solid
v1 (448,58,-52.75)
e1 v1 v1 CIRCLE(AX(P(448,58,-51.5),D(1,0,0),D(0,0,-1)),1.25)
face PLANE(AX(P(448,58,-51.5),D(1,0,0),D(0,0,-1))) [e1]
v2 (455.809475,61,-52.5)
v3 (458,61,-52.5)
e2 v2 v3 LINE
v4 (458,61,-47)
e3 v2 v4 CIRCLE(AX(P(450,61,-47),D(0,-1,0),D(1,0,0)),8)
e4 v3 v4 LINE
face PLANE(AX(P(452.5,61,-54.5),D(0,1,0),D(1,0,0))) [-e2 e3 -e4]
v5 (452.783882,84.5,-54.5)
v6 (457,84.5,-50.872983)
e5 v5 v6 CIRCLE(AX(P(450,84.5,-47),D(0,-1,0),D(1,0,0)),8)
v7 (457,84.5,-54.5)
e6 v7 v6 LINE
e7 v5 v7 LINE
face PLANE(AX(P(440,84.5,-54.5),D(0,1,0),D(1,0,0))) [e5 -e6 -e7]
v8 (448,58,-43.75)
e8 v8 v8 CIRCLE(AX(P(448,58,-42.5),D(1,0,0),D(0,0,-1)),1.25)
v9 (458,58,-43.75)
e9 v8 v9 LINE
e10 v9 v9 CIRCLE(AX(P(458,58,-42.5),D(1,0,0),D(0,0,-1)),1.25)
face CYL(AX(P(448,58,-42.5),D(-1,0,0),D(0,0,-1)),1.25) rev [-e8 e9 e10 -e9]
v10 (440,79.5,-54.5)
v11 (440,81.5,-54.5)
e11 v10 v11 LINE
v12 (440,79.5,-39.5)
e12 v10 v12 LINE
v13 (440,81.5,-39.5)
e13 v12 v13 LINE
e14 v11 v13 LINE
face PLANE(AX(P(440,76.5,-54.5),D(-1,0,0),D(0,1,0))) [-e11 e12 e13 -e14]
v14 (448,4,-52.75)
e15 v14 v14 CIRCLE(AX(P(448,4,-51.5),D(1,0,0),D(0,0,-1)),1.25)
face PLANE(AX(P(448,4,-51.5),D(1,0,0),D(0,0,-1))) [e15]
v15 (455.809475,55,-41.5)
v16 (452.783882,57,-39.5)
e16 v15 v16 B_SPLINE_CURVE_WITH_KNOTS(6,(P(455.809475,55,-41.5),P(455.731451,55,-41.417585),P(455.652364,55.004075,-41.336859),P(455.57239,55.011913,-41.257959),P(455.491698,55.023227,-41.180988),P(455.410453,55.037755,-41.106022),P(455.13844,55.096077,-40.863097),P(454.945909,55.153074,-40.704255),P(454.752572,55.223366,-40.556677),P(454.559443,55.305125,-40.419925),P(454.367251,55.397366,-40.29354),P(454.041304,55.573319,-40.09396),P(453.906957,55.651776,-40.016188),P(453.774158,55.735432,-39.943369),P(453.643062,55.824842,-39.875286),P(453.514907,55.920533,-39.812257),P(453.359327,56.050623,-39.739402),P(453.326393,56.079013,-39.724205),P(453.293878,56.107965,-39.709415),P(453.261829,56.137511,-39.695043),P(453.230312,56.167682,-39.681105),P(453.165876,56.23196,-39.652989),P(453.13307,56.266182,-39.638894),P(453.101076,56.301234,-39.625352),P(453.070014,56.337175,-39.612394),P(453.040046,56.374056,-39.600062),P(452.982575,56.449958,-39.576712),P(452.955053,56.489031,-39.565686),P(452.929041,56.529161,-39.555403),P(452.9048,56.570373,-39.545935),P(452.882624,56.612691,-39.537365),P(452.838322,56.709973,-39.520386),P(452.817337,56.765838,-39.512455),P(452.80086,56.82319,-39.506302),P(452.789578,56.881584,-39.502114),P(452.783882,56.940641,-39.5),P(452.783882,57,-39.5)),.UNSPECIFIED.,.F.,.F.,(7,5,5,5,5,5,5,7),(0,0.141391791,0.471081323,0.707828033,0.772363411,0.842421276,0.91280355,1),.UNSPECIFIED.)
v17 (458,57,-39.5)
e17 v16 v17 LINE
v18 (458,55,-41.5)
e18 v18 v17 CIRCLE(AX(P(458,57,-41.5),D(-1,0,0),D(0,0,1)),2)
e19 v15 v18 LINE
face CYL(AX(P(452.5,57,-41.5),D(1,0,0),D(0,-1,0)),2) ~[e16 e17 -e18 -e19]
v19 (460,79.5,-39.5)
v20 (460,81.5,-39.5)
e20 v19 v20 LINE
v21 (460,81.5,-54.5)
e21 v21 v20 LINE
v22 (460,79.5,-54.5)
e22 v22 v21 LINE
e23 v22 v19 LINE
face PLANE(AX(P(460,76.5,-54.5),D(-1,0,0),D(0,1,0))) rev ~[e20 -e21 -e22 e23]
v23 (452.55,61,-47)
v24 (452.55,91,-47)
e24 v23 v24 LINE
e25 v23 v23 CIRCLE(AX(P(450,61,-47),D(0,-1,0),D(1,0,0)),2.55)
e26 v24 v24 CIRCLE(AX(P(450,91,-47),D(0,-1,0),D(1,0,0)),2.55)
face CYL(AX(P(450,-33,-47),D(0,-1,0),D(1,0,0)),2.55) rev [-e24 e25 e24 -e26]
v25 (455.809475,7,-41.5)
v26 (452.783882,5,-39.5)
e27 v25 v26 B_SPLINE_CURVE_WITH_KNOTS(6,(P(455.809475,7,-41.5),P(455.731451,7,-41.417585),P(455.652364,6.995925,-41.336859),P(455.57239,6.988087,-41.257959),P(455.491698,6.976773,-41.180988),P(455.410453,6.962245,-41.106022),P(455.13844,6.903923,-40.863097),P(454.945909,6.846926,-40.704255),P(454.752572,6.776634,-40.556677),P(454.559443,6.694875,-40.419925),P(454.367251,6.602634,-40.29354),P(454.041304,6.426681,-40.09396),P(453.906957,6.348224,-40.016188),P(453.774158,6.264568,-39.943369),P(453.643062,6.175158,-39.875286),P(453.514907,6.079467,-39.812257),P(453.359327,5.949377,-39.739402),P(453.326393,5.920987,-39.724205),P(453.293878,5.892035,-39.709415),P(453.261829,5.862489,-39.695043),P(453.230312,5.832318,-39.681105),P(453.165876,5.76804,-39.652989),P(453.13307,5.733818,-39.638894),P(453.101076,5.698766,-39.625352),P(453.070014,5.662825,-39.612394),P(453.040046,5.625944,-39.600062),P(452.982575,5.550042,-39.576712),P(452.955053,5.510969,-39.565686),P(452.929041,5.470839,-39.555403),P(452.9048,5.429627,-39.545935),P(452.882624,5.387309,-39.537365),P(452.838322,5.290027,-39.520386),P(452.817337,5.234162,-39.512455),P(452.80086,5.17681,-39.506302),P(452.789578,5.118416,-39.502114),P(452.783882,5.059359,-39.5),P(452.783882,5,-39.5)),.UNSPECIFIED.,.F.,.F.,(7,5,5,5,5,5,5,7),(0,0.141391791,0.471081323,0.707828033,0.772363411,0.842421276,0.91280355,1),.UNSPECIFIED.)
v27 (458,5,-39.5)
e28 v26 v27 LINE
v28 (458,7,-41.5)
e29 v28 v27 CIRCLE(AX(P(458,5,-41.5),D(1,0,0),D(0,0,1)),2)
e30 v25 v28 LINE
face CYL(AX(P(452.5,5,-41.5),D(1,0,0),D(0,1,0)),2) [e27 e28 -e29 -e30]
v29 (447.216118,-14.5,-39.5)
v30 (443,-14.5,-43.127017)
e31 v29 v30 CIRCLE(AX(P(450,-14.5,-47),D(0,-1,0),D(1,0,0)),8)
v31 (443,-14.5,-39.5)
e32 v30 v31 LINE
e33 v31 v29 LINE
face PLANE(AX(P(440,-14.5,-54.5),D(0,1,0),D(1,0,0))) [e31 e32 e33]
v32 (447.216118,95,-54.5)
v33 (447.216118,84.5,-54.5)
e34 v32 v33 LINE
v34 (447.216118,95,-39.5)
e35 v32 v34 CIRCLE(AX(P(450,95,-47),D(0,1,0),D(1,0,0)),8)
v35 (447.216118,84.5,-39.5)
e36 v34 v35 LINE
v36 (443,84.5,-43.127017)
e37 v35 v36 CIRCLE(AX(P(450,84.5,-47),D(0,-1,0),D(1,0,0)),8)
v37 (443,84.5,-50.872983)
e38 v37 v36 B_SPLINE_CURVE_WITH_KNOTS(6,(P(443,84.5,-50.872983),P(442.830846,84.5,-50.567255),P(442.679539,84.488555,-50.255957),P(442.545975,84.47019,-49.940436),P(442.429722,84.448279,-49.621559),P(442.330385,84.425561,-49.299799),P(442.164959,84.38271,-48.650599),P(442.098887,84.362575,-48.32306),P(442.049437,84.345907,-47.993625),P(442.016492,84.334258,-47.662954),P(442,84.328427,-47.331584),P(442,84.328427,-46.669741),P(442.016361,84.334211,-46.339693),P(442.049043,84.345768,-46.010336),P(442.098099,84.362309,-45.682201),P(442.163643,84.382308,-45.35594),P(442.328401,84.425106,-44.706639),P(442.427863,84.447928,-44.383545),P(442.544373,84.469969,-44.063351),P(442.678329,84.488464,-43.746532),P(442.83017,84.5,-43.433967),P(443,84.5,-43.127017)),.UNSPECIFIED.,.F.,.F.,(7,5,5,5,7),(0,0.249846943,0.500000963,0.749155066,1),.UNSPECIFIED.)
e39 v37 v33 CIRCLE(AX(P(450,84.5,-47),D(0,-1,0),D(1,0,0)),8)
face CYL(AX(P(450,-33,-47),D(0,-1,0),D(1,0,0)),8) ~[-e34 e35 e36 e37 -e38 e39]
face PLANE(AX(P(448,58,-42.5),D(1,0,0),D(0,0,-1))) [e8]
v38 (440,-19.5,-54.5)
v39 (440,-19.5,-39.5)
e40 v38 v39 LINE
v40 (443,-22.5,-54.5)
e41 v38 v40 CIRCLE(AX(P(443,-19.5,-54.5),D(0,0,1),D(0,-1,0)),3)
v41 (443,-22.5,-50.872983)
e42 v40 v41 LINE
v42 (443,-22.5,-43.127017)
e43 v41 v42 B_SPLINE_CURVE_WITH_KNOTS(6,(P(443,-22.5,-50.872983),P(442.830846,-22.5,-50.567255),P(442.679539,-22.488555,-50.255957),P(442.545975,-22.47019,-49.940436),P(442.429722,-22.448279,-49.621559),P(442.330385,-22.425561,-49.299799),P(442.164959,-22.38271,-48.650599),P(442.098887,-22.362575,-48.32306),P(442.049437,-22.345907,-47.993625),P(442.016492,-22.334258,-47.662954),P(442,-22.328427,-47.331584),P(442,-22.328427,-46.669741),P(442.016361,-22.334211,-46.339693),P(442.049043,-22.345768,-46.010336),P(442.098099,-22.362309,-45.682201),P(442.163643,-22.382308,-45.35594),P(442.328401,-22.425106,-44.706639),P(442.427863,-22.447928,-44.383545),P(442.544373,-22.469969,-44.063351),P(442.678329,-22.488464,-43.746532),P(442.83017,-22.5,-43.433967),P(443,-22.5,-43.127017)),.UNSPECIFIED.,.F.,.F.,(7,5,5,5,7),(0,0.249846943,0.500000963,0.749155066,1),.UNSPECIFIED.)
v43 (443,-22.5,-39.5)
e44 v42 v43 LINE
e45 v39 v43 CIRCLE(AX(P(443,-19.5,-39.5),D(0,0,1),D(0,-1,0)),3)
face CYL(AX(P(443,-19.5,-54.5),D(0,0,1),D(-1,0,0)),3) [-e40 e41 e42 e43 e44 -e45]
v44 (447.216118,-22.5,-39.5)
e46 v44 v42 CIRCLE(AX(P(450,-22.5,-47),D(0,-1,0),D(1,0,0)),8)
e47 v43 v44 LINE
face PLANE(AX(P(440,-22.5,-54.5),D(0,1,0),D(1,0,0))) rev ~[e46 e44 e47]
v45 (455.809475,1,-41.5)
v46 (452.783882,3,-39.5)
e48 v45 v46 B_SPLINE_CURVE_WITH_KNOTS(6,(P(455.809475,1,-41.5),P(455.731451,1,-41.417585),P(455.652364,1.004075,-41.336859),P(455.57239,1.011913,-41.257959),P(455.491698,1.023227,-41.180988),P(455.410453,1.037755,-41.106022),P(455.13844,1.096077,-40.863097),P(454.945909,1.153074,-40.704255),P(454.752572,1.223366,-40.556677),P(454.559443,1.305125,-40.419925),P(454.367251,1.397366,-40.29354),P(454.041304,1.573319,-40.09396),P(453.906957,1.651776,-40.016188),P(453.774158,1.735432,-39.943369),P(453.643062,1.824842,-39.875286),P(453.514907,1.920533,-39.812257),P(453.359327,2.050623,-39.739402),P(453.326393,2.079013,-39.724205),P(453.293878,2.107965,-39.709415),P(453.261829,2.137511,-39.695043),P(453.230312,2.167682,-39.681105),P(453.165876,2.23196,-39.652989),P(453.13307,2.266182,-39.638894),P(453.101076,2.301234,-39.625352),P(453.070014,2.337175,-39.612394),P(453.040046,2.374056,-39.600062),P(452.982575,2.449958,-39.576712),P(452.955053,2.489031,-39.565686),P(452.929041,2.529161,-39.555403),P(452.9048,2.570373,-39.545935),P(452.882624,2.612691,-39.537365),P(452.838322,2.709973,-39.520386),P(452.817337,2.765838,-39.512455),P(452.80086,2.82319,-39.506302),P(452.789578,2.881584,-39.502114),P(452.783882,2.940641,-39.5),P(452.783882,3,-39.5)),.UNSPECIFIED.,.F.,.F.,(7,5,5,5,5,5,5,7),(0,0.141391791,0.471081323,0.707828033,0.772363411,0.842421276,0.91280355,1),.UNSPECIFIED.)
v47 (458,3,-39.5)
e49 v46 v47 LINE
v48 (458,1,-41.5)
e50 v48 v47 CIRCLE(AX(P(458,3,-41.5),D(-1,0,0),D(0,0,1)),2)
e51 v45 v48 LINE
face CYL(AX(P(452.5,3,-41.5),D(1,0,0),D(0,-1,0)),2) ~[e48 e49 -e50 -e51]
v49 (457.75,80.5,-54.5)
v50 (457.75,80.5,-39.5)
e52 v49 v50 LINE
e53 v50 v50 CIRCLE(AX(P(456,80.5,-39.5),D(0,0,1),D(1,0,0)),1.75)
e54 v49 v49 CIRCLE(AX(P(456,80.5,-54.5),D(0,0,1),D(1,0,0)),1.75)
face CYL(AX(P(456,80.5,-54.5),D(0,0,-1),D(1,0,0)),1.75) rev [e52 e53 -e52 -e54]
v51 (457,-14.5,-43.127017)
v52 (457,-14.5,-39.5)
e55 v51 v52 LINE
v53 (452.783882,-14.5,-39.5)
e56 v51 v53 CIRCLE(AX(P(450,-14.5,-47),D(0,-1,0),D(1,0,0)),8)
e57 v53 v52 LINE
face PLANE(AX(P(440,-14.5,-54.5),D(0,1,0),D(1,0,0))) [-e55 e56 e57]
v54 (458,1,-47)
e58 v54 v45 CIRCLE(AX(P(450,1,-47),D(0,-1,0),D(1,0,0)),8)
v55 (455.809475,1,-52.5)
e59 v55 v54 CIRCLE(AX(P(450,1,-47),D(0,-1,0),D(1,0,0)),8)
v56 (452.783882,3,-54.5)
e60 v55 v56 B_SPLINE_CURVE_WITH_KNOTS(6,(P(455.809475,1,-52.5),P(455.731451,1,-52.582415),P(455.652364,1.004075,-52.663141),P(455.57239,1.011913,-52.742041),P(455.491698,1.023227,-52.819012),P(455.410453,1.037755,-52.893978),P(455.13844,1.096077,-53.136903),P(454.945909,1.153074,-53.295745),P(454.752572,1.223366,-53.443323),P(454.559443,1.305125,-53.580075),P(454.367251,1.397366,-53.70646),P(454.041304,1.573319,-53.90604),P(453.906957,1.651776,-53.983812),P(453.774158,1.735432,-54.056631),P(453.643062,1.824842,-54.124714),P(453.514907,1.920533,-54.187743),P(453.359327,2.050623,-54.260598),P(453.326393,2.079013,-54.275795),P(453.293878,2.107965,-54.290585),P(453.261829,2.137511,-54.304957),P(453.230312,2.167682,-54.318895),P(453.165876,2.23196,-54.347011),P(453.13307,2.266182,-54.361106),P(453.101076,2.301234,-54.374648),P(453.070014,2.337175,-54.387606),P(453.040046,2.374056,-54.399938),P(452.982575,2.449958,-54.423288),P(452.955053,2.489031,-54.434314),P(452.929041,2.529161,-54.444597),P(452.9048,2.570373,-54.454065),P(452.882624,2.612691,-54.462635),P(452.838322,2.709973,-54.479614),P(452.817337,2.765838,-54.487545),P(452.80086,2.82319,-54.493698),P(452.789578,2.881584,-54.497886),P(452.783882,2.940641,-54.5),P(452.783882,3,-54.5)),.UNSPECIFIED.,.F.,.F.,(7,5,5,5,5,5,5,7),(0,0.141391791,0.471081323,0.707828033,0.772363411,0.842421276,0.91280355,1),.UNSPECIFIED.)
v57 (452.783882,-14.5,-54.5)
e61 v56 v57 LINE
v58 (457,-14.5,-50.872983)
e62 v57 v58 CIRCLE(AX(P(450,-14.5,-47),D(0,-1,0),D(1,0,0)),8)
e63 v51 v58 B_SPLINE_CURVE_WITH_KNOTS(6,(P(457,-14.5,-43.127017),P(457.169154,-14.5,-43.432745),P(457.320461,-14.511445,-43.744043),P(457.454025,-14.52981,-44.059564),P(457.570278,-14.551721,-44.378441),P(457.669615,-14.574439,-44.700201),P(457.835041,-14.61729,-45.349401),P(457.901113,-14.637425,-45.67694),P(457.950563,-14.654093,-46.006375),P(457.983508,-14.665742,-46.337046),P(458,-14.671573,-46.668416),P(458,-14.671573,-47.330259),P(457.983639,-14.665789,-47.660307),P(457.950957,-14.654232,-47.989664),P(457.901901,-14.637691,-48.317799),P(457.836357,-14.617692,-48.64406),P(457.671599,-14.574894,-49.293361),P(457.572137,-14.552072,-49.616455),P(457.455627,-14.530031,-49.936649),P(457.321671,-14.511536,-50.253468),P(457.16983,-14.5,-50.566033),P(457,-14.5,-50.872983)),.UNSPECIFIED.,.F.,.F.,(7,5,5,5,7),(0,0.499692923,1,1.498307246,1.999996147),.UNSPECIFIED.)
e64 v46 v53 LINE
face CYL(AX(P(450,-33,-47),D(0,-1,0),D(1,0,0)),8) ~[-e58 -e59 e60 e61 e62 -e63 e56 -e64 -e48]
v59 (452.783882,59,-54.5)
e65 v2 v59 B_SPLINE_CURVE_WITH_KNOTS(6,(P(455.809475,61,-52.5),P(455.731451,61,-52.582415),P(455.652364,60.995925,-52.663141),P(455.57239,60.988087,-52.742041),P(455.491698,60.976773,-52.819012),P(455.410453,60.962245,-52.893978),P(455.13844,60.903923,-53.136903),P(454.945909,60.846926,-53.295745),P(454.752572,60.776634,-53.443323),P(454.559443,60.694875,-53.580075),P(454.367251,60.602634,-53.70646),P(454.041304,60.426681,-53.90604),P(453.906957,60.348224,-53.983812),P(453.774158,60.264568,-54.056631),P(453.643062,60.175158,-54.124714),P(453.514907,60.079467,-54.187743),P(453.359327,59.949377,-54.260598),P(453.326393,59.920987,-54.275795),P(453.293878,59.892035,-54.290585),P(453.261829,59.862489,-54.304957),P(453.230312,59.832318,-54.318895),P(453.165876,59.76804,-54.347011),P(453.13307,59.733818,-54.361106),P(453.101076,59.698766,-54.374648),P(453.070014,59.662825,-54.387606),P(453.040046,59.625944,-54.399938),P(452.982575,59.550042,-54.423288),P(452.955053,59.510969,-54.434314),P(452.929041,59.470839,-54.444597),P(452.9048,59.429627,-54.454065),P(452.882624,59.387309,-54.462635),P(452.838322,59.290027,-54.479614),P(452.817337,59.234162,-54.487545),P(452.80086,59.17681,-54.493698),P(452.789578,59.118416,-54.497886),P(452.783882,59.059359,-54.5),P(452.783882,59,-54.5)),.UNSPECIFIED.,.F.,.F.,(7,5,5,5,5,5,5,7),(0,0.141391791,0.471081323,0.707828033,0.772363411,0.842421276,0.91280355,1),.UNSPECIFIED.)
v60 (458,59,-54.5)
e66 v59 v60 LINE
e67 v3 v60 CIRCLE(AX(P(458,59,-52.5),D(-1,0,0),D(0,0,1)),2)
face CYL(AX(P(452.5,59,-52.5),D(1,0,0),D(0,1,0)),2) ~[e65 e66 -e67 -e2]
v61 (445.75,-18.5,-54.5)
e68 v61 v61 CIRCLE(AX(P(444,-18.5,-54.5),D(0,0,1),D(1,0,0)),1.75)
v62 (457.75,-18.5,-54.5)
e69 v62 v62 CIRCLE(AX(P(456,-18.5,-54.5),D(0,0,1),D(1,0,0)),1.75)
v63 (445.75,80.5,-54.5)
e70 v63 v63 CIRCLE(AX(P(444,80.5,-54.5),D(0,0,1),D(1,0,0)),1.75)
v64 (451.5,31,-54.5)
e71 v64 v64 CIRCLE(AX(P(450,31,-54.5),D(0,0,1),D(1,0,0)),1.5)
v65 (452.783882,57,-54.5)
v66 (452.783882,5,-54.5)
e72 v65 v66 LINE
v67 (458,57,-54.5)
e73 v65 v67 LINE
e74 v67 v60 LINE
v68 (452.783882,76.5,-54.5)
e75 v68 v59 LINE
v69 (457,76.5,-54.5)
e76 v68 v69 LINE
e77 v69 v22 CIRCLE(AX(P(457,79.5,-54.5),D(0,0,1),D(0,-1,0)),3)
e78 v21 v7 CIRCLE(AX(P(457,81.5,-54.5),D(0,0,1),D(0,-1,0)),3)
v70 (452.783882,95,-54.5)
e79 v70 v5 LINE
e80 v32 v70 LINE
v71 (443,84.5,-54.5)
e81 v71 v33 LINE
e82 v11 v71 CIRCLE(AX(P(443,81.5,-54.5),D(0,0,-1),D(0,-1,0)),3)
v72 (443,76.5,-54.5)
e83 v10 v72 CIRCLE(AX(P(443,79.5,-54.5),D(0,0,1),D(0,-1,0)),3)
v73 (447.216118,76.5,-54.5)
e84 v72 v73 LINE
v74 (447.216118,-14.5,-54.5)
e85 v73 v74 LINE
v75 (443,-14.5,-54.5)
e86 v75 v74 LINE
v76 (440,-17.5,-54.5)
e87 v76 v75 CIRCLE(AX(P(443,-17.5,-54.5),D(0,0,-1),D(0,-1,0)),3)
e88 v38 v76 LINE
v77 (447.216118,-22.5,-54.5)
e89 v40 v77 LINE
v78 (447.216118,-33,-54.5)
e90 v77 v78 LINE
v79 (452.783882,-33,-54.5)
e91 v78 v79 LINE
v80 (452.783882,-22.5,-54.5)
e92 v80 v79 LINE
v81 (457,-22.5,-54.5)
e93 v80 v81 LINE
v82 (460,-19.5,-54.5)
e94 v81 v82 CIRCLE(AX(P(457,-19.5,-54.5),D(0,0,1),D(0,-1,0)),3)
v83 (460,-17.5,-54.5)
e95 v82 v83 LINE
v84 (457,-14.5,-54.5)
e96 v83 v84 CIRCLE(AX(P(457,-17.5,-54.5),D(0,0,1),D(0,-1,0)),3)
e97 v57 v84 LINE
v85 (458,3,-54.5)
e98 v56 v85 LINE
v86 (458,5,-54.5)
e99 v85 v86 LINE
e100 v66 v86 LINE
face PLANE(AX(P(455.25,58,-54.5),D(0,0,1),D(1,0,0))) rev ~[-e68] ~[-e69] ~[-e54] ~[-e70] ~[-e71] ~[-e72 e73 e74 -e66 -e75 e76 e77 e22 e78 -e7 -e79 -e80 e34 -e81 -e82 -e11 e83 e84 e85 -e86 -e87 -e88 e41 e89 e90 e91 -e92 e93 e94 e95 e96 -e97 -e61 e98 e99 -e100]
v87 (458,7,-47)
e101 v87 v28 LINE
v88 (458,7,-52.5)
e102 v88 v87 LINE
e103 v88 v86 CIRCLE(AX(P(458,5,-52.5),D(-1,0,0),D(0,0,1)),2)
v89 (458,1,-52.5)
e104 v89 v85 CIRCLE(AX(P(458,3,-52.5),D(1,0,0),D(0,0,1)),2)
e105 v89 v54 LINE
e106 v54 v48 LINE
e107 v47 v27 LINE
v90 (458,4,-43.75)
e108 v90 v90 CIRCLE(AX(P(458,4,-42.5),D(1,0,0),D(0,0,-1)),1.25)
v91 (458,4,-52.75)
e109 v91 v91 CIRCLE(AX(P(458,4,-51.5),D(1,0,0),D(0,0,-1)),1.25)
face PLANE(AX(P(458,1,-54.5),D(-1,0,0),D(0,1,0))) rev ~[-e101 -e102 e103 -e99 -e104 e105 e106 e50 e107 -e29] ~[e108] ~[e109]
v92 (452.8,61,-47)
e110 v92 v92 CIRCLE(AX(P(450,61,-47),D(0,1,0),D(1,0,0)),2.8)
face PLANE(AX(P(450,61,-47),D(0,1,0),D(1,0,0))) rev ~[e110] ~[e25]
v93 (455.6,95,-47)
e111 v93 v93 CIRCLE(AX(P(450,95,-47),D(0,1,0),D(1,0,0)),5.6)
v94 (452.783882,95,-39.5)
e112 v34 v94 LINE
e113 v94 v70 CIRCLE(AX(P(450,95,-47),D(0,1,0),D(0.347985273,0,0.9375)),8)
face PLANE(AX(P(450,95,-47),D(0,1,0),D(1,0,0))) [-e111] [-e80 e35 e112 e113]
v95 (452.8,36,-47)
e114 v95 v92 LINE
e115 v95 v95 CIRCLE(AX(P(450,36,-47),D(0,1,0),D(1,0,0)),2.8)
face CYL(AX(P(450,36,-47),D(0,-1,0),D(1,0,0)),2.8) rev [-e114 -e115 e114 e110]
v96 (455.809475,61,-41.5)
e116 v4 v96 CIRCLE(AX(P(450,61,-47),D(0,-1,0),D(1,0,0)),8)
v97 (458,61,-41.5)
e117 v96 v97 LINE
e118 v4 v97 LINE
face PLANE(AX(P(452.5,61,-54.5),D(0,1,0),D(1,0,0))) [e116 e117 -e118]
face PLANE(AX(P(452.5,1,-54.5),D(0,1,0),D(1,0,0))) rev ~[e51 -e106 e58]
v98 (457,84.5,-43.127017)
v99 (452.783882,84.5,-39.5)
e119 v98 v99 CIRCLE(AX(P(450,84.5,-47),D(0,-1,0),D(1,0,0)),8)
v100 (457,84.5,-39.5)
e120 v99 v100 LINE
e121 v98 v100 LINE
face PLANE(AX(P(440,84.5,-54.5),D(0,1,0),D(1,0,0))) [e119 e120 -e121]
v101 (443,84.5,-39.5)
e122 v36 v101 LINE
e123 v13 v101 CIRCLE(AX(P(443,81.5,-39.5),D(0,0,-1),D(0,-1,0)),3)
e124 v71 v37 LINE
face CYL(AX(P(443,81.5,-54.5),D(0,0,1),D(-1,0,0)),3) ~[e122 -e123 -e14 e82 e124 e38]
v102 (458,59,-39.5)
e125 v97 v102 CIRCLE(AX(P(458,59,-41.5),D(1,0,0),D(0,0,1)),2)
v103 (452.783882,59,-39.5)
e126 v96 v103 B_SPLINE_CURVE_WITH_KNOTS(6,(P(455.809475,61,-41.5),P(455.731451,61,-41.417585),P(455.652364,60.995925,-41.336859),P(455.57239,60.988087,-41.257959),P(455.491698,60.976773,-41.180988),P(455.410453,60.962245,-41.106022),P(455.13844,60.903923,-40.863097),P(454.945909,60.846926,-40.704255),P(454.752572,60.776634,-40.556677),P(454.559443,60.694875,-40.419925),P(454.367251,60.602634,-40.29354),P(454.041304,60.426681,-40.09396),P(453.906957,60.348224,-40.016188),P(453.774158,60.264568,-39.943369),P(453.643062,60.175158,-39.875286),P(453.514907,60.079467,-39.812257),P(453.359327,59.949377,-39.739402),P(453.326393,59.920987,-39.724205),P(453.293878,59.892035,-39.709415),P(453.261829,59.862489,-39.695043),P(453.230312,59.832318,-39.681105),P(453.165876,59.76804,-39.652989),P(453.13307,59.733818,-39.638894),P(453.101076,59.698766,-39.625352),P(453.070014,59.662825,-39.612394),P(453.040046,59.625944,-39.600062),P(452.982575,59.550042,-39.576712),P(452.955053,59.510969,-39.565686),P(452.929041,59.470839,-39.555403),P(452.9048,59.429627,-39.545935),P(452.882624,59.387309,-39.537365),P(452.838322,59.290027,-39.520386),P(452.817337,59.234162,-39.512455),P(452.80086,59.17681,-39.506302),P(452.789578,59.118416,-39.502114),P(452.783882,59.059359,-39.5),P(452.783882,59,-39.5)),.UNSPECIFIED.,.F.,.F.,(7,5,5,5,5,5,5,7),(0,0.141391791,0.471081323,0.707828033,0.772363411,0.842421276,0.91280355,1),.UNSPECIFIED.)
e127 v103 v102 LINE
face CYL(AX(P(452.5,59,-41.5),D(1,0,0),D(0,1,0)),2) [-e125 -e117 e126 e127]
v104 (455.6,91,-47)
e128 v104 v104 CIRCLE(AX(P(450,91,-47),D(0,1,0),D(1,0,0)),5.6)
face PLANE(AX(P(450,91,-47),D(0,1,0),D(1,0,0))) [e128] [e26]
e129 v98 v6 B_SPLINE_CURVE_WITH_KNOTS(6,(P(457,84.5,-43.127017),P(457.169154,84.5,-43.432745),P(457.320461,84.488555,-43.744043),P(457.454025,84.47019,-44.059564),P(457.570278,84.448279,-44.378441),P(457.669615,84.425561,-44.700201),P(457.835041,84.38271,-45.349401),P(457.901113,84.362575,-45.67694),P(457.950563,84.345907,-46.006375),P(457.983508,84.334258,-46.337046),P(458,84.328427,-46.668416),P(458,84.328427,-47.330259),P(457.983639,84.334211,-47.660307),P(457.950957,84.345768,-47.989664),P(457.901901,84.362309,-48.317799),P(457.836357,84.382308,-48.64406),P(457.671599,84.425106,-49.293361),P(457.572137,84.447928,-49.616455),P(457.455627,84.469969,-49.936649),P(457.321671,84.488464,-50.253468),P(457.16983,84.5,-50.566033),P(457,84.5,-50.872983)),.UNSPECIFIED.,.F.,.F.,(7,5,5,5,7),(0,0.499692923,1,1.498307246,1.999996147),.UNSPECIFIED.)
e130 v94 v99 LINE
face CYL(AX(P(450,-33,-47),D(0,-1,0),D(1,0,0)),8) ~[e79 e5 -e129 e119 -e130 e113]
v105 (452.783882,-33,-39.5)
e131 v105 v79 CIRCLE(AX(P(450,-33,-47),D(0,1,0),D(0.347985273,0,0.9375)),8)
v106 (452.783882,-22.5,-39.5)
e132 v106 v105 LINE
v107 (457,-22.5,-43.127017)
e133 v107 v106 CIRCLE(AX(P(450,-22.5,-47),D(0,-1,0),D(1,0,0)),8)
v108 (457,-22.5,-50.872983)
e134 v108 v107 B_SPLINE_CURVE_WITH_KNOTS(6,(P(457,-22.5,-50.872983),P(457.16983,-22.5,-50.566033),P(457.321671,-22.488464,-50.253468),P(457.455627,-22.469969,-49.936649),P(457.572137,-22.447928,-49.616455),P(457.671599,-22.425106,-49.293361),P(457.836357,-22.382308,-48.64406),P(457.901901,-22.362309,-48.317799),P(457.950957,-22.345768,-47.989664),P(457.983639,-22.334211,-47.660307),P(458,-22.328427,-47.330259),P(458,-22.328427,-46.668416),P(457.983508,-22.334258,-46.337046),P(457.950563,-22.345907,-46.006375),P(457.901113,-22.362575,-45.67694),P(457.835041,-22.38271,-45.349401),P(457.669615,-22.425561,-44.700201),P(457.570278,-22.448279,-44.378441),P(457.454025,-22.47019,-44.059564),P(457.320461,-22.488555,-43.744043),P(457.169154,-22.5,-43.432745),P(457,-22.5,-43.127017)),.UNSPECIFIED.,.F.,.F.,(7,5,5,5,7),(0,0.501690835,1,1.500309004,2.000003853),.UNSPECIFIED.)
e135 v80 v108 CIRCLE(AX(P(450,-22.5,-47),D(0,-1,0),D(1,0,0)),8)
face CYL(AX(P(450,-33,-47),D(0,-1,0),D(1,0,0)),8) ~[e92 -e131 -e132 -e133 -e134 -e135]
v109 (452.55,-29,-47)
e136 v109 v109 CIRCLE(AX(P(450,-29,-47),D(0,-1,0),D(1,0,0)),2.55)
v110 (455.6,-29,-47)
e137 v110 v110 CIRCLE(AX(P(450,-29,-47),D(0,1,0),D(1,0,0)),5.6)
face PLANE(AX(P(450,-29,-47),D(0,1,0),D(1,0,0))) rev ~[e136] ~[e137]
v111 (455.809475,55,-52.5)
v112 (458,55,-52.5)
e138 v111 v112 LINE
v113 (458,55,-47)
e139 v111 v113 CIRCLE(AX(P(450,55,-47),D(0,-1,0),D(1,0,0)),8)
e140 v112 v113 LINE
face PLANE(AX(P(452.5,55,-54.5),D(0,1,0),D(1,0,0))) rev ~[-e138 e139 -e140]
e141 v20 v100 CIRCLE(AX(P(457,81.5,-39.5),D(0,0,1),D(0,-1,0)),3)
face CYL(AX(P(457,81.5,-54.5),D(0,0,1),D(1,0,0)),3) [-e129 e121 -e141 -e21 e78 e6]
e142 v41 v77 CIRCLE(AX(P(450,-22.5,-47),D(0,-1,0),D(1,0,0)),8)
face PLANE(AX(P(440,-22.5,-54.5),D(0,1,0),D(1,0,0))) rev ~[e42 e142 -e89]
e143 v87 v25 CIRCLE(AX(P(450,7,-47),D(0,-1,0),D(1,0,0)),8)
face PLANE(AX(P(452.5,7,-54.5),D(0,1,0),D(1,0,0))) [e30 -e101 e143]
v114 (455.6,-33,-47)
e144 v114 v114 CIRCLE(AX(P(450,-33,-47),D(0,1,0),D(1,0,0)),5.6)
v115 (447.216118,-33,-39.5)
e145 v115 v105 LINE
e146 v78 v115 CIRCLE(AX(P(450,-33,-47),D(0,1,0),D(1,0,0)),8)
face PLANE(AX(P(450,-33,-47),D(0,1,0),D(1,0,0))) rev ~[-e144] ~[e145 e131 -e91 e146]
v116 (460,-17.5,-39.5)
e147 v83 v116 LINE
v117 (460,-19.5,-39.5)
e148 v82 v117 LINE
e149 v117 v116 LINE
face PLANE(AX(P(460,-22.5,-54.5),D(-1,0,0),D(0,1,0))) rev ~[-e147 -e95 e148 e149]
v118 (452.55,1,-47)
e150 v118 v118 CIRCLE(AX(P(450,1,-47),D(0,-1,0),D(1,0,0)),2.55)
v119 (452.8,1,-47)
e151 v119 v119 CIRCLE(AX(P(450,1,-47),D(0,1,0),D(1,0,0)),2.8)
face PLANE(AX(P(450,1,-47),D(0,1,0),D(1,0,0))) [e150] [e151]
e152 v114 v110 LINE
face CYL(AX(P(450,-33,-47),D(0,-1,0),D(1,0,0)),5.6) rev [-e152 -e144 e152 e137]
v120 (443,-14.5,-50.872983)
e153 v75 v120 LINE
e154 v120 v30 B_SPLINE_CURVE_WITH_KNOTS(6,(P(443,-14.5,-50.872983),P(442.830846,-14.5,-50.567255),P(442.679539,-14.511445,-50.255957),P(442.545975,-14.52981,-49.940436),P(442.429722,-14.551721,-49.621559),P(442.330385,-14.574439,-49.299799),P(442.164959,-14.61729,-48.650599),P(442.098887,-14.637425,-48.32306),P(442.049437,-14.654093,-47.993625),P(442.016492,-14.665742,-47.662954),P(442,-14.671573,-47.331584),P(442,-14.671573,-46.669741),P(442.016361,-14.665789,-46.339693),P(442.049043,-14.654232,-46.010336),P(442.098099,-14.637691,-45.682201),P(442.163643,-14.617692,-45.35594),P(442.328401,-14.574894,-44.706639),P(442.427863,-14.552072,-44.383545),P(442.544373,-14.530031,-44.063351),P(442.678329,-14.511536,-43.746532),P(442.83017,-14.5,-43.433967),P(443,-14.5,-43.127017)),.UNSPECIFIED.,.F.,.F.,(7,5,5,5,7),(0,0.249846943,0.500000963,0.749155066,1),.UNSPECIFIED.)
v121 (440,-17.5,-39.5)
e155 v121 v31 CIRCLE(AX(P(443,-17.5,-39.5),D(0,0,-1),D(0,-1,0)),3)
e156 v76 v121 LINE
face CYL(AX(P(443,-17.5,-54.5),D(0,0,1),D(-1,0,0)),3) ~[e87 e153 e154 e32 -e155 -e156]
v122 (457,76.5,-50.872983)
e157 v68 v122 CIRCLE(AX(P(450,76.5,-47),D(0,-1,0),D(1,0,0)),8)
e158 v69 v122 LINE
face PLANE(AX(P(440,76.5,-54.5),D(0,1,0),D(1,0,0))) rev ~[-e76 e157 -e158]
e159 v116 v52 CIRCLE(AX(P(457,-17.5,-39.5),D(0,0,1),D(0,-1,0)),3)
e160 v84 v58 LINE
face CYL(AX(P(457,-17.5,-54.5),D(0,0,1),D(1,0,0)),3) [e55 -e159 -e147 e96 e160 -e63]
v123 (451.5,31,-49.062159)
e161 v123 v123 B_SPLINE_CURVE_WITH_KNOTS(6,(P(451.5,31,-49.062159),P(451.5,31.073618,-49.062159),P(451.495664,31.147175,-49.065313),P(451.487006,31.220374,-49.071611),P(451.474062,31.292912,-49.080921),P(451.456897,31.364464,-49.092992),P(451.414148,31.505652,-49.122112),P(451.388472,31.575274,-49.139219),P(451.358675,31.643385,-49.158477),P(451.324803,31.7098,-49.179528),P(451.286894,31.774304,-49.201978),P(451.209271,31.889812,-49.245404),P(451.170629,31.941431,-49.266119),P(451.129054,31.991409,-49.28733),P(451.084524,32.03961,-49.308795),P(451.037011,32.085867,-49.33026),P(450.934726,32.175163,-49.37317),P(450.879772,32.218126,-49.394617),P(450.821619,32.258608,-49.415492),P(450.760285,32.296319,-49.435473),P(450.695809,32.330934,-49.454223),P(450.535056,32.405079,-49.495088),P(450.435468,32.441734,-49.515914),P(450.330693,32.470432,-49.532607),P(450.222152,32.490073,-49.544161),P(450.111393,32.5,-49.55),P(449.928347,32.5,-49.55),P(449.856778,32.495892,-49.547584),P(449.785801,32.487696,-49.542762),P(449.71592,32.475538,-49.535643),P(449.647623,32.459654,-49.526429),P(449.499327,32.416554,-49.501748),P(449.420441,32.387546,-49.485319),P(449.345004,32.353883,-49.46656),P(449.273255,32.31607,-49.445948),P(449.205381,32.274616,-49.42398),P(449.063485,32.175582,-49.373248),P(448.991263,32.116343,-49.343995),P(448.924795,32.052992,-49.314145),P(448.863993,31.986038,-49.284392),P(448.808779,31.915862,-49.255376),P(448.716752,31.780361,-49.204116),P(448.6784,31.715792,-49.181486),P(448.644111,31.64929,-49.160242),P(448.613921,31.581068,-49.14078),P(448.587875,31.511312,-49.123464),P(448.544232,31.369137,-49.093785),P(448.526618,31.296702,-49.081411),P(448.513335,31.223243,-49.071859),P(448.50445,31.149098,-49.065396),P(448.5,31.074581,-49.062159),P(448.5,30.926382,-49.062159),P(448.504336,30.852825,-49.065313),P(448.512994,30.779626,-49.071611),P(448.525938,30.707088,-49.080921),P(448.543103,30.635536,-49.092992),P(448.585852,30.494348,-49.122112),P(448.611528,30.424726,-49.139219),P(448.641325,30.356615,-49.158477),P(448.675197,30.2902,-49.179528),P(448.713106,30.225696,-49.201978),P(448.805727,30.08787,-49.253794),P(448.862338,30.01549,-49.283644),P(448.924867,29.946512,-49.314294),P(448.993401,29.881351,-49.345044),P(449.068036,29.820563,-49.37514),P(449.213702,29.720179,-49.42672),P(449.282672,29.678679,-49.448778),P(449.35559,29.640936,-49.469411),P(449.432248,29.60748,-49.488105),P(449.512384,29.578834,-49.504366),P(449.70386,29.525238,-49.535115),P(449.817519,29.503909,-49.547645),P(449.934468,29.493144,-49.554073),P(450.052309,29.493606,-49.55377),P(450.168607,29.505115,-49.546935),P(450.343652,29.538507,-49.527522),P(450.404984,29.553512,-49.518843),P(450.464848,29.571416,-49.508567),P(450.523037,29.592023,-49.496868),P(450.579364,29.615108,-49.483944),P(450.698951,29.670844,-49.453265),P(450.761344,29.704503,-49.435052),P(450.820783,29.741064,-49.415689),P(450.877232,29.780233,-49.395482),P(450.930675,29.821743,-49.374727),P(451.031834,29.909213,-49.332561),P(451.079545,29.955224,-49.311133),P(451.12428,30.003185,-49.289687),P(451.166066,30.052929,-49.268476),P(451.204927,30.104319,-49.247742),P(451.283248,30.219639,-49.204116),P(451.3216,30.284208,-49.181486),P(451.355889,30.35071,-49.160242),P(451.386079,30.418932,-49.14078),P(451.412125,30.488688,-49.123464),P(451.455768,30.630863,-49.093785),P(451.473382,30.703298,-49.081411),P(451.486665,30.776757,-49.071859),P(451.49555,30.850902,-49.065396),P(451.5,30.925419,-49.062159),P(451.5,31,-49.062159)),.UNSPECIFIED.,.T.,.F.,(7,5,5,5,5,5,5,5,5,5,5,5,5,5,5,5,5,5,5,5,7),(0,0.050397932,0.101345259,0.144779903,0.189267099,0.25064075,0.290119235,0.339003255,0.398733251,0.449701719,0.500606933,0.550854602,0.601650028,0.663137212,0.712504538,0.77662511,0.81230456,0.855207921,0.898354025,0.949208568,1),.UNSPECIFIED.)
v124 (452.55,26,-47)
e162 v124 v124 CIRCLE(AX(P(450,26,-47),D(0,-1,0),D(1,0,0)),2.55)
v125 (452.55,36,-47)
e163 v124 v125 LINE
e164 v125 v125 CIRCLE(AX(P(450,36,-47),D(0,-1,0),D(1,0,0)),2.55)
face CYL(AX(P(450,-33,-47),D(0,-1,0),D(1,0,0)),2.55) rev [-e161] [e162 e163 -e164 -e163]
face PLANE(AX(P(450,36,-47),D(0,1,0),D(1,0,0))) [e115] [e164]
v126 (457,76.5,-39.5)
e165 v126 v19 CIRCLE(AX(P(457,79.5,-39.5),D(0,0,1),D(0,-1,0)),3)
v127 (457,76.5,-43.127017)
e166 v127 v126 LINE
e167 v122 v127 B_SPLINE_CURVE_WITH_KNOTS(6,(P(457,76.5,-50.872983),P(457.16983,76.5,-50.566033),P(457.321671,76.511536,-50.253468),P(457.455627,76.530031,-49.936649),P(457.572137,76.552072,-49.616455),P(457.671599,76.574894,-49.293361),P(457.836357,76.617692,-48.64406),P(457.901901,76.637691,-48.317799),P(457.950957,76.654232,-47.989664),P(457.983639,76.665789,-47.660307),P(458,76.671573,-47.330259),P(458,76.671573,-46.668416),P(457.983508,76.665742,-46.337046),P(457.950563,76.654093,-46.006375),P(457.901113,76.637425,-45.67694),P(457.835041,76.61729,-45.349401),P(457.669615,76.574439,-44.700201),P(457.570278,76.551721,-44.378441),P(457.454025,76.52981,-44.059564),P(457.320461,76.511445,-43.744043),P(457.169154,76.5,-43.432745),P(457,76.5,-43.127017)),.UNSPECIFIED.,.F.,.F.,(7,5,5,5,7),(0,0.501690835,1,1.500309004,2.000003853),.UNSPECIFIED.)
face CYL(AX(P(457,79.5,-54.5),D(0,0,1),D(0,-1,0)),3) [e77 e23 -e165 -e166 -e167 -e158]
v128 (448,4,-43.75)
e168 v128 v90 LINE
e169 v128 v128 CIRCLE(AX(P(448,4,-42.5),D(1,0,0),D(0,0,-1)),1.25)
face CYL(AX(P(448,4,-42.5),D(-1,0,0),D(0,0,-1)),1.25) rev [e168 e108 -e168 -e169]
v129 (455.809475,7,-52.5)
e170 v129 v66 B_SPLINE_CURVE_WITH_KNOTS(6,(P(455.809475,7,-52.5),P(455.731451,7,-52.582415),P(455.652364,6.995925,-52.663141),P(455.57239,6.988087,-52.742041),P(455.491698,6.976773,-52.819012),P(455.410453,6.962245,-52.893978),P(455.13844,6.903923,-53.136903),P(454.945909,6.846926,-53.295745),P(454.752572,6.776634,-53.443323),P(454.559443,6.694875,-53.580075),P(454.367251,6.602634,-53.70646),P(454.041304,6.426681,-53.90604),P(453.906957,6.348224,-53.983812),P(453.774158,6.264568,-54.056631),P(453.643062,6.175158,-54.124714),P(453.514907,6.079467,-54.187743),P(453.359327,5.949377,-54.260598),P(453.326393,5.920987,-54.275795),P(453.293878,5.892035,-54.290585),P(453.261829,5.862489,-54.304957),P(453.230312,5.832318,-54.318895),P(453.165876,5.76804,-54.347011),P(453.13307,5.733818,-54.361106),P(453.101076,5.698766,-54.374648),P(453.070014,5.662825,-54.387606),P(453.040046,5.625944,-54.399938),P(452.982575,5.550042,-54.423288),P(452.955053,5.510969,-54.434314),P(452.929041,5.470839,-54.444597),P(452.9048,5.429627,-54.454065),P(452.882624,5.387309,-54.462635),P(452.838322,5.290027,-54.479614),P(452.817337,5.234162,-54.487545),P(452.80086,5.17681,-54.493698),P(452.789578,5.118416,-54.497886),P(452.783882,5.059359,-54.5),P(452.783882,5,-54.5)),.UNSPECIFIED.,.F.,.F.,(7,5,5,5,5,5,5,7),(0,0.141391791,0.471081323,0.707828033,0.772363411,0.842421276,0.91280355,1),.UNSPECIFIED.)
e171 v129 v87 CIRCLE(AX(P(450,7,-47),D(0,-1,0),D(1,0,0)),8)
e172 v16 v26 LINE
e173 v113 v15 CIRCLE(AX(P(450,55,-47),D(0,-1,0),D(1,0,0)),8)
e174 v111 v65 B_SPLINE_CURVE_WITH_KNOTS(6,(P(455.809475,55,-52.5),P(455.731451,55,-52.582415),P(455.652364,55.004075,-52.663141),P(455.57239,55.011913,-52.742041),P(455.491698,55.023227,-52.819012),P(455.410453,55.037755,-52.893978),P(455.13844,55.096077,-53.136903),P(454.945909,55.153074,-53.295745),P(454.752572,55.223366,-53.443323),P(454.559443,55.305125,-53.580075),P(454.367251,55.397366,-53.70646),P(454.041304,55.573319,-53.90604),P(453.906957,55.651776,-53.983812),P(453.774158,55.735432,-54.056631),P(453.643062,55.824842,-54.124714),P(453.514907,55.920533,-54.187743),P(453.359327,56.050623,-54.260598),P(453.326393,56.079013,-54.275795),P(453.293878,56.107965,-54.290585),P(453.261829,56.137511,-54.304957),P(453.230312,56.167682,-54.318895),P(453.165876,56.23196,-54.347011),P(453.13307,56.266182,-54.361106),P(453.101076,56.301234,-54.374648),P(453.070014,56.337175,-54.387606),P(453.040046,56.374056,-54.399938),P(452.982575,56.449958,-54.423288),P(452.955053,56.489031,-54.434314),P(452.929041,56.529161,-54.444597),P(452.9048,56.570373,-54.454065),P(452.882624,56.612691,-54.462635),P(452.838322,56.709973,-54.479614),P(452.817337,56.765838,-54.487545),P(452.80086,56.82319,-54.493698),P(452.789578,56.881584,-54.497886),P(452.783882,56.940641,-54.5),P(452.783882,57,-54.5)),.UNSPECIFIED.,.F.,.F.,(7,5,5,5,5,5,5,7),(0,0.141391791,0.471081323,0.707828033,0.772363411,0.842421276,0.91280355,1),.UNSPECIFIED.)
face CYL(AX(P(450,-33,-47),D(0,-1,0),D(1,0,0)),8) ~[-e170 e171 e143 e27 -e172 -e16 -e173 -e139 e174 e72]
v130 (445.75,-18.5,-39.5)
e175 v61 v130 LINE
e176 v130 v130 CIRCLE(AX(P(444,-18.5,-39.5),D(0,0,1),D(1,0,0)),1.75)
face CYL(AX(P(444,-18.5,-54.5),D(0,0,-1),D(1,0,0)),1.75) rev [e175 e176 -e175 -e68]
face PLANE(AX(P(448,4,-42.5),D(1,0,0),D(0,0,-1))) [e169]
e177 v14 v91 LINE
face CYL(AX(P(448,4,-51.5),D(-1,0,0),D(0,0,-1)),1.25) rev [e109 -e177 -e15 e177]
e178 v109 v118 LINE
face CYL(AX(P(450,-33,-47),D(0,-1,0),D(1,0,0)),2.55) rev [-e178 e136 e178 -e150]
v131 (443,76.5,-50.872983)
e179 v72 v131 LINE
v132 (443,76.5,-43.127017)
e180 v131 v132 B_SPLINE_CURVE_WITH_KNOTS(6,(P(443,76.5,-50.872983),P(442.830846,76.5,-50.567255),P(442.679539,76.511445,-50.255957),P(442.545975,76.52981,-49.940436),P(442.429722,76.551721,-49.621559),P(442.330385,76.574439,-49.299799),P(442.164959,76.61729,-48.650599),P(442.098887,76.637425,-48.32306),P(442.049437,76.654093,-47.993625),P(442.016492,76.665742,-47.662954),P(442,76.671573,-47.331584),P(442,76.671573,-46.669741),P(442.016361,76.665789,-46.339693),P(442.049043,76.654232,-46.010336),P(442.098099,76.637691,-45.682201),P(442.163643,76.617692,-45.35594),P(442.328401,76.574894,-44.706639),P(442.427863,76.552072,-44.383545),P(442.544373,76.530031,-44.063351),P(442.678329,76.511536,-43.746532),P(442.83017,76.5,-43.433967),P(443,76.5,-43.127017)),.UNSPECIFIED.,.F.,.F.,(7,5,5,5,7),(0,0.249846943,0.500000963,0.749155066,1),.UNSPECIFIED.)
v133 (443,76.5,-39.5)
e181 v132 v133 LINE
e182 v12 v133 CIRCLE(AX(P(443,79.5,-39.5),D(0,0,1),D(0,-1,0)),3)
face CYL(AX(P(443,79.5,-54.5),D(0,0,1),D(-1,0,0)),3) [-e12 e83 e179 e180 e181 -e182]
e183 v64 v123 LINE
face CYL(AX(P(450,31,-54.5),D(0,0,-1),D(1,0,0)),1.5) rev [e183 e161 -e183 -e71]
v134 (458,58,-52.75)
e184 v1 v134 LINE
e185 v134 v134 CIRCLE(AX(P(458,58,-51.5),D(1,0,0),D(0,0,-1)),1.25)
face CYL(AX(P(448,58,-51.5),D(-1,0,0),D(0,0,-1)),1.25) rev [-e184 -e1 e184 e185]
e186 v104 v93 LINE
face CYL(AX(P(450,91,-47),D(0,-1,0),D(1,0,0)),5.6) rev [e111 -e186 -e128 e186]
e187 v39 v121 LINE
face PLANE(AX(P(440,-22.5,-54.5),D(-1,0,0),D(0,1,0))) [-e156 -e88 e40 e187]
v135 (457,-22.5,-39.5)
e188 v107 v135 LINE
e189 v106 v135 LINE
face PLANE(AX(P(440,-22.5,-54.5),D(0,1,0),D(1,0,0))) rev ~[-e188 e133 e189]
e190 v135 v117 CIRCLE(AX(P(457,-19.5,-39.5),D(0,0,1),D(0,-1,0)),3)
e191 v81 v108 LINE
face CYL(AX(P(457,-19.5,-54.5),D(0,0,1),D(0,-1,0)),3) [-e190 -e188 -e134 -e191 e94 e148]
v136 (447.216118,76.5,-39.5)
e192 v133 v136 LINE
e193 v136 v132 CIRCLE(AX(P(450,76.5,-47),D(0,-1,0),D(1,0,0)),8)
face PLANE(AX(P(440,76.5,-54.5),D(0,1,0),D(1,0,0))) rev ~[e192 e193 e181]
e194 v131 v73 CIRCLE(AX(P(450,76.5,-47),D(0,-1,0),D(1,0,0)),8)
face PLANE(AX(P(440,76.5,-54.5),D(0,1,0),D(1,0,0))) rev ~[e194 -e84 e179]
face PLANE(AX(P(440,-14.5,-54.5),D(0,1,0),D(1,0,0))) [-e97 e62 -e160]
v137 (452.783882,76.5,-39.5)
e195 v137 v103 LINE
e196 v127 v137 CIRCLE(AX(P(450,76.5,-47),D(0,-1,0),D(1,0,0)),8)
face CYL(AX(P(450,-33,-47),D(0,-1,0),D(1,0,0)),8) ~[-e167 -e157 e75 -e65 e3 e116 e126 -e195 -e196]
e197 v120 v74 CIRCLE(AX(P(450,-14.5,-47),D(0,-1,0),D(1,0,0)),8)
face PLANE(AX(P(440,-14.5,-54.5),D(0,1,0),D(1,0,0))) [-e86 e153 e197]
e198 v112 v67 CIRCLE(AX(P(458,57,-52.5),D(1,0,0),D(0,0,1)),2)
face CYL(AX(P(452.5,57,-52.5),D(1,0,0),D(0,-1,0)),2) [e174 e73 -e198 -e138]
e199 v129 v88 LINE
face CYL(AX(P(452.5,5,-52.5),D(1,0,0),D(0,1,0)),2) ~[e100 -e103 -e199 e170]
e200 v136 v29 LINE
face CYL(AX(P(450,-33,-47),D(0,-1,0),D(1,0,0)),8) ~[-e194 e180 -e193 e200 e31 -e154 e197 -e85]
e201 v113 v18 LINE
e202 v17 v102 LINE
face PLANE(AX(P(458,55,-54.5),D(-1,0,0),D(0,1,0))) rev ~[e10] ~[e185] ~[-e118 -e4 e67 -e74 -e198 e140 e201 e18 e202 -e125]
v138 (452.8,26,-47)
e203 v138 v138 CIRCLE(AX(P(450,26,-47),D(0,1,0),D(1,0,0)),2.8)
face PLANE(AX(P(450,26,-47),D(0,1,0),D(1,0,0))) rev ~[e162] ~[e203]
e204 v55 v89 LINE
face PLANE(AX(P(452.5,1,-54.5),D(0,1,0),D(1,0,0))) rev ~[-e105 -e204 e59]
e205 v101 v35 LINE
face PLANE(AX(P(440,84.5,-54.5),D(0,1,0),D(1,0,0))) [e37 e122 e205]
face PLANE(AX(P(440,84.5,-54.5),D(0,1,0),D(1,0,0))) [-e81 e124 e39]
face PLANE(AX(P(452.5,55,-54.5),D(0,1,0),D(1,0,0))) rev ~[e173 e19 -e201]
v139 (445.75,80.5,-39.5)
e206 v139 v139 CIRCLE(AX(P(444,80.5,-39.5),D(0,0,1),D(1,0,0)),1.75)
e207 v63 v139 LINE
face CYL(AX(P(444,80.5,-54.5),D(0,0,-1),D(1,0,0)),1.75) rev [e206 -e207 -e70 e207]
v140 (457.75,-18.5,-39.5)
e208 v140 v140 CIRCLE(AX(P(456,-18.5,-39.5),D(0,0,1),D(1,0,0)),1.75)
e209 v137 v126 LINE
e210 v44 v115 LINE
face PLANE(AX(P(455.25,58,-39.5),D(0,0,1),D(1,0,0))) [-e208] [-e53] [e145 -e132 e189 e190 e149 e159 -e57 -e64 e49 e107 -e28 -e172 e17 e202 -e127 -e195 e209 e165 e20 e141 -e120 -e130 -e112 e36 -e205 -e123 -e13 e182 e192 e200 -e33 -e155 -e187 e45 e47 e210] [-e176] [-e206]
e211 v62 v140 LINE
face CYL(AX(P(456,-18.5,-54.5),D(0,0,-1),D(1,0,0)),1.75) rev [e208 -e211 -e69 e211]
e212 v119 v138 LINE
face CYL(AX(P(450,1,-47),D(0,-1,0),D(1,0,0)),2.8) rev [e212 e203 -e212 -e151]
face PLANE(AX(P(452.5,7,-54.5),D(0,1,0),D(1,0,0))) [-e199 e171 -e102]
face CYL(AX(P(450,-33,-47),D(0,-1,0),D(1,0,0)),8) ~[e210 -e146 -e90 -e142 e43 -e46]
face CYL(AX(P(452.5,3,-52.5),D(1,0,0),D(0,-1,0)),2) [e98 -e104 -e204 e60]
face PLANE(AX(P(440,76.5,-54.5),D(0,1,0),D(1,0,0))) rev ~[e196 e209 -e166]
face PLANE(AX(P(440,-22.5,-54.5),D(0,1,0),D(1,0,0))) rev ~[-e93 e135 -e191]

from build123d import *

# Parameters (mm, degrees)
CYLINDER547_R     = 1.5
CYLINDER547_DEPTH = 6
BOX342_W          = 20
BOX342_H          = 128
BOX342_DEPTH      = 1
BOX341_W          = 20
BOX341_H          = 128
BOX341_DEPTH      = 1
CYLINDER149_R     = 2.8
CYLINDER149_DEPTH = 25
CYLINDER150_R     = 2.8
CYLINDER150_DEPTH = 25
CYLINDER541_R     = 1.75
CYLINDER541_DEPTH = 15
CYLINDER540_R     = 1.75
CYLINDER540_DEPTH = 15
CYLINDER542_R     = 1.75
CYLINDER542_DEPTH = 15
CYLINDER543_R     = 1.75
CYLINDER543_DEPTH = 15
CYLINDER151_R     = 1.25
CYLINDER151_DEPTH = 10
CYLINDER548_R     = 1.25
CYLINDER548_DEPTH = 10
CYLINDER549_R     = 1.25
CYLINDER549_DEPTH = 10
CYLINDER550_R     = 1.25
CYLINDER550_DEPTH = 10
CYLINDER545_R     = 5.6
CYLINDER545_DEPTH = 4
CYLINDER546_R     = 5.6
CYLINDER546_DEPTH = 4
CYLINDER544_R     = 2.55
CYLINDER544_DEPTH = 128
BOX343_W          = 5.5
BOX343_H          = 6
BOX343_DEPTH      = 15
BOX344_W          = 5.5
BOX344_H          = 6
BOX344_DEPTH      = 15
FILLET132_R       = 2
BOX340_W          = 20
BOX340_H          = 8
BOX340_DEPTH      = 15
FILLET131_R       = 3
BOX339_W          = 20
BOX339_H          = 8
BOX339_DEPTH      = 15
FILLET130_R       = 3
CYLINDER142_R     = 8
CYLINDER142_DEPTH = 128


with BuildPart() as cylinder642:
    # Cylinder547 → Cylinder547 (new body)
    with BuildSketch(Plane.XY.offset(-7.5)):
        Circle(CYLINDER547_R)
    extrude(amount=CYLINDER547_DEPTH)


with BuildPart() as cube413:
    # Box342 → Box342 (new body)
    with BuildSketch(Plane(origin=(-10, -64, 7.5), x_dir=(1, 0, 0), z_dir=(0, 0, 1))):
        with Locations((10, 64)):
            Rectangle(BOX342_W, BOX342_H)
    extrude(amount=BOX342_DEPTH)


with BuildPart() as fusion127:
    # Box341 → Box341 (new body)
    with BuildSketch(Plane(origin=(-10, -64, -8.5), x_dir=(1, 0, 0), z_dir=(0, 0, 1))):
        with Locations((10, 64)):
            Rectangle(BOX341_W, BOX341_H)
    extrude(amount=BOX341_DEPTH)

    # Fusion127: union Cube413
    add(cube413.part)


with BuildPart() as cylinder149:
    # Cylinder149 → Cylinder149 (new body)
    with BuildSketch(Plane(origin=(0, -30, 0), x_dir=(1, 0, 0), z_dir=(0, 1, 0))):
        Circle(CYLINDER149_R)
    extrude(amount=CYLINDER149_DEPTH)


with BuildPart() as fusion465:
    # Cylinder150 → Cylinder150 (new body)
    with BuildSketch(Plane(origin=(0, 5, 0), x_dir=(1, 0, 0), z_dir=(0, 1, 0))):
        Circle(CYLINDER150_R)
    extrude(amount=CYLINDER150_DEPTH)

    # Fusion465: union Cylinder149
    add(cylinder149.part)


with BuildPart() as cylinder636:
    # Cylinder541 → Cylinder541 (new body)
    with BuildSketch(Plane(origin=(13.5, -49.5, 13), x_dir=(1, 0, 0), z_dir=(0, 0, 1))):
        Circle(CYLINDER541_R)
    extrude(amount=CYLINDER541_DEPTH)


with BuildPart() as fusion461:
    # Cylinder540 → Cylinder540 (new body)
    with BuildSketch(Plane(origin=(13.5, 49.5, 13), x_dir=(1, 0, 0), z_dir=(0, 0, 1))):
        Circle(CYLINDER540_R)
    extrude(amount=CYLINDER540_DEPTH)

    # Fusion461: union Cylinder636
    add(cylinder636.part)


with BuildPart() as cylinder637:
    # Cylinder542 → Cylinder542 (new body)
    with BuildSketch(Plane(origin=(13.5, -49.5, 13), x_dir=(1, 0, 0), z_dir=(0, 0, 1))):
        Circle(CYLINDER542_R)
    extrude(amount=CYLINDER542_DEPTH)


with BuildPart() as fusion463:
    # Cylinder543 → Cylinder543 (new body)
    with BuildSketch(Plane(origin=(13.5, 49.5, 13), x_dir=(1, 0, 0), z_dir=(0, 0, 1))):
        Circle(CYLINDER543_R)
    extrude(amount=CYLINDER543_DEPTH)

    # Fusion462: union Cylinder637
    add(cylinder637.part)


with BuildPart() as fusion463_1:
    # Fusion462 placement: moved
    add(fusion463.part.moved(Location((-12, 0, 0))))

    # Fusion463: union Fusion461
    add(fusion461.part)


with BuildPart() as fusion463_2:
    # Fusion463 placement: moved
    add(fusion463_1.part.moved(Location((-7.5, 0, -20.5))))


with BuildPart() as cylinder151:
    # Cylinder151 → Cylinder151 (new body)
    with BuildSketch(Plane(origin=(0, -27, 4.5), x_dir=(0, 0, -1), z_dir=(1, 0, 0))):
        Circle(CYLINDER151_R)
    extrude(amount=CYLINDER151_DEPTH)


with BuildPart() as fusion468:
    # Cylinder548 → Cylinder548 (new body)
    with BuildSketch(Plane(origin=(0, -27, -4.5), x_dir=(0, 0, -1), z_dir=(1, 0, 0))):
        Circle(CYLINDER548_R)
    extrude(amount=CYLINDER548_DEPTH)

    # Fusion468: union Cylinder151
    add(cylinder151.part)


with BuildPart() as cylinder644:
    # Cylinder549 → Cylinder549 (new body)
    with BuildSketch(Plane(origin=(0, -27, 4.5), x_dir=(0, 0, -1), z_dir=(1, 0, 0))):
        Circle(CYLINDER549_R)
    extrude(amount=CYLINDER549_DEPTH)


with BuildPart() as fusion470:
    # Cylinder550 → Cylinder550 (new body)
    with BuildSketch(Plane(origin=(0, -27, -4.5), x_dir=(0, 0, -1), z_dir=(1, 0, 0))):
        Circle(CYLINDER550_R)
    extrude(amount=CYLINDER550_DEPTH)

    # Fusion469: union Cylinder644
    add(cylinder644.part)


with BuildPart() as fusion470_1:
    # Fusion469 placement: moved
    add(fusion470.part.moved(Location((0, 54, 0))))

    # Fusion470: union Fusion468
    add(fusion468.part)


with BuildPart() as fusion470_2:
    # Fusion470 placement: moved
    add(fusion470_1.part.moved(Location((-2, 0, 0))))


with BuildPart() as cylinder640:
    # Cylinder545 → Cylinder545 (new body)
    with BuildSketch(Plane(origin=(0, -64, 0), x_dir=(1, 0, 0), z_dir=(0, 1, 0))):
        Circle(CYLINDER545_R)
    extrude(amount=CYLINDER545_DEPTH)


with BuildPart() as fusion124:
    # Cylinder546 → Cylinder546 (new body)
    with BuildSketch(Plane(origin=(0, 60, 0), x_dir=(1, 0, 0), z_dir=(0, 1, 0))):
        Circle(CYLINDER546_R)
    extrude(amount=CYLINDER546_DEPTH)

    # Fusion124: union Cylinder640
    add(cylinder640.part)


with BuildPart() as fusion464:
    # Cylinder544 → Cylinder544 (new body)
    with BuildSketch(Plane(origin=(0, -64, 0), x_dir=(1, 0, 0), z_dir=(0, 1, 0))):
        Circle(CYLINDER544_R)
    extrude(amount=CYLINDER544_DEPTH)

    # Fusion464: union Fusion124
    add(fusion124.part)


with BuildPart() as cube414:
    # Box343 → Box343 (new body)
    with BuildSketch(Plane(origin=(2.5, -30, -7.5), x_dir=(1, 0, 0), z_dir=(0, 0, 1))):
        with Locations((2.75, 3)):
            Rectangle(BOX343_W, BOX343_H)
    extrude(amount=BOX343_DEPTH)


with BuildPart() as fillet132:
    # Box344 → Box344 (new body)
    with BuildSketch(Plane(origin=(2.5, 24, -7.5), x_dir=(1, 0, 0), z_dir=(0, 0, 1))):
        with Locations((2.75, 3)):
            Rectangle(BOX344_W, BOX344_H)
    extrude(amount=BOX344_DEPTH)

    # Fusion466: union Cube414
    add(cube414.part)

    # Fillet132
    fillet132_edges = [fillet132.edges().sort_by_distance(p)[0] for p in [
        (5.25, 24, -7.5),
        (5.25, 24, 7.5),
        (5.25, 30, -7.5),
        (5.25, 30, 7.5),
        (5.25, -30, -7.5),
        (5.25, -30, 7.5),
        (5.25, -24, -7.5),
        (5.25, -24, 7.5),
    ]]
    fillet(fillet132_edges, radius=FILLET132_R)


with BuildPart() as fillet131:
    # Box340 → Box340 (new body)
    with BuildSketch(Plane(origin=(-10, -53.5, -7.5), x_dir=(1, 0, 0), z_dir=(0, 0, 1))):
        with Locations((10, 4)):
            Rectangle(BOX340_W, BOX340_H)
    extrude(amount=BOX340_DEPTH)

    # Fillet131
    fillet131_edges = [fillet131.edges().sort_by_distance(p)[0] for p in [
        (-10, -53.5, 0),
        (-10, -45.5, 0),
        (10, -53.5, 0),
        (10, -45.5, 0),
    ]]
    fillet(fillet131_edges, radius=FILLET131_R)


with BuildPart() as fillet130:
    # Box339 → Box339 (new body)
    with BuildSketch(Plane(origin=(-10, -53.5, -7.5), x_dir=(1, 0, 0), z_dir=(0, 0, 1))):
        with Locations((10, 4)):
            Rectangle(BOX339_W, BOX339_H)
    extrude(amount=BOX339_DEPTH)

    # Fillet130
    fillet130_edges = [fillet130.edges().sort_by_distance(p)[0] for p in [
        (-10, -53.5, 0),
        (-10, -45.5, 0),
        (10, -53.5, 0),
        (10, -45.5, 0),
    ]]
    fillet(fillet130_edges, radius=FILLET130_R)


with BuildPart() as fillet130_1:
    # Fillet130 placement: moved
    add(fillet130.part.moved(Location((0, 99, 0))))


with BuildPart() as axle_front_wide:
    # Cylinder142 → Cylinder142 (new body)
    with BuildSketch(Plane(origin=(0, -64, 0), x_dir=(1, 0, 0), z_dir=(0, 1, 0))):
        Circle(CYLINDER142_R)
    extrude(amount=CYLINDER142_DEPTH)

    # Fusion126: union Fillet131, Fillet130
    add(fillet131.part)
    add(fillet130_1.part)

    # Fusion467: union Fillet132
    add(fillet132.part)

    # Cut359: cut Fusion464
    add(fusion464.part, mode=Mode.SUBTRACT)

    # Cut360: cut Fusion470
    add(fusion470_2.part, mode=Mode.SUBTRACT)

    # Cut047: cut Fusion463
    add(fusion463_2.part, mode=Mode.SUBTRACT)

    # Cut048: cut Fusion465
    add(fusion465.part, mode=Mode.SUBTRACT)

    # Cut049: cut Fusion127
    add(fusion127.part, mode=Mode.SUBTRACT)

    # Cut050: cut Cylinder642
    add(cylinder642.part, mode=Mode.SUBTRACT)


with BuildPart() as axle_front_wide_1:
    # Cut050 placement: moved
    add(axle_front_wide.part.moved(Location((450, 31, -47))))


solid = axle_front_wide_1.part
